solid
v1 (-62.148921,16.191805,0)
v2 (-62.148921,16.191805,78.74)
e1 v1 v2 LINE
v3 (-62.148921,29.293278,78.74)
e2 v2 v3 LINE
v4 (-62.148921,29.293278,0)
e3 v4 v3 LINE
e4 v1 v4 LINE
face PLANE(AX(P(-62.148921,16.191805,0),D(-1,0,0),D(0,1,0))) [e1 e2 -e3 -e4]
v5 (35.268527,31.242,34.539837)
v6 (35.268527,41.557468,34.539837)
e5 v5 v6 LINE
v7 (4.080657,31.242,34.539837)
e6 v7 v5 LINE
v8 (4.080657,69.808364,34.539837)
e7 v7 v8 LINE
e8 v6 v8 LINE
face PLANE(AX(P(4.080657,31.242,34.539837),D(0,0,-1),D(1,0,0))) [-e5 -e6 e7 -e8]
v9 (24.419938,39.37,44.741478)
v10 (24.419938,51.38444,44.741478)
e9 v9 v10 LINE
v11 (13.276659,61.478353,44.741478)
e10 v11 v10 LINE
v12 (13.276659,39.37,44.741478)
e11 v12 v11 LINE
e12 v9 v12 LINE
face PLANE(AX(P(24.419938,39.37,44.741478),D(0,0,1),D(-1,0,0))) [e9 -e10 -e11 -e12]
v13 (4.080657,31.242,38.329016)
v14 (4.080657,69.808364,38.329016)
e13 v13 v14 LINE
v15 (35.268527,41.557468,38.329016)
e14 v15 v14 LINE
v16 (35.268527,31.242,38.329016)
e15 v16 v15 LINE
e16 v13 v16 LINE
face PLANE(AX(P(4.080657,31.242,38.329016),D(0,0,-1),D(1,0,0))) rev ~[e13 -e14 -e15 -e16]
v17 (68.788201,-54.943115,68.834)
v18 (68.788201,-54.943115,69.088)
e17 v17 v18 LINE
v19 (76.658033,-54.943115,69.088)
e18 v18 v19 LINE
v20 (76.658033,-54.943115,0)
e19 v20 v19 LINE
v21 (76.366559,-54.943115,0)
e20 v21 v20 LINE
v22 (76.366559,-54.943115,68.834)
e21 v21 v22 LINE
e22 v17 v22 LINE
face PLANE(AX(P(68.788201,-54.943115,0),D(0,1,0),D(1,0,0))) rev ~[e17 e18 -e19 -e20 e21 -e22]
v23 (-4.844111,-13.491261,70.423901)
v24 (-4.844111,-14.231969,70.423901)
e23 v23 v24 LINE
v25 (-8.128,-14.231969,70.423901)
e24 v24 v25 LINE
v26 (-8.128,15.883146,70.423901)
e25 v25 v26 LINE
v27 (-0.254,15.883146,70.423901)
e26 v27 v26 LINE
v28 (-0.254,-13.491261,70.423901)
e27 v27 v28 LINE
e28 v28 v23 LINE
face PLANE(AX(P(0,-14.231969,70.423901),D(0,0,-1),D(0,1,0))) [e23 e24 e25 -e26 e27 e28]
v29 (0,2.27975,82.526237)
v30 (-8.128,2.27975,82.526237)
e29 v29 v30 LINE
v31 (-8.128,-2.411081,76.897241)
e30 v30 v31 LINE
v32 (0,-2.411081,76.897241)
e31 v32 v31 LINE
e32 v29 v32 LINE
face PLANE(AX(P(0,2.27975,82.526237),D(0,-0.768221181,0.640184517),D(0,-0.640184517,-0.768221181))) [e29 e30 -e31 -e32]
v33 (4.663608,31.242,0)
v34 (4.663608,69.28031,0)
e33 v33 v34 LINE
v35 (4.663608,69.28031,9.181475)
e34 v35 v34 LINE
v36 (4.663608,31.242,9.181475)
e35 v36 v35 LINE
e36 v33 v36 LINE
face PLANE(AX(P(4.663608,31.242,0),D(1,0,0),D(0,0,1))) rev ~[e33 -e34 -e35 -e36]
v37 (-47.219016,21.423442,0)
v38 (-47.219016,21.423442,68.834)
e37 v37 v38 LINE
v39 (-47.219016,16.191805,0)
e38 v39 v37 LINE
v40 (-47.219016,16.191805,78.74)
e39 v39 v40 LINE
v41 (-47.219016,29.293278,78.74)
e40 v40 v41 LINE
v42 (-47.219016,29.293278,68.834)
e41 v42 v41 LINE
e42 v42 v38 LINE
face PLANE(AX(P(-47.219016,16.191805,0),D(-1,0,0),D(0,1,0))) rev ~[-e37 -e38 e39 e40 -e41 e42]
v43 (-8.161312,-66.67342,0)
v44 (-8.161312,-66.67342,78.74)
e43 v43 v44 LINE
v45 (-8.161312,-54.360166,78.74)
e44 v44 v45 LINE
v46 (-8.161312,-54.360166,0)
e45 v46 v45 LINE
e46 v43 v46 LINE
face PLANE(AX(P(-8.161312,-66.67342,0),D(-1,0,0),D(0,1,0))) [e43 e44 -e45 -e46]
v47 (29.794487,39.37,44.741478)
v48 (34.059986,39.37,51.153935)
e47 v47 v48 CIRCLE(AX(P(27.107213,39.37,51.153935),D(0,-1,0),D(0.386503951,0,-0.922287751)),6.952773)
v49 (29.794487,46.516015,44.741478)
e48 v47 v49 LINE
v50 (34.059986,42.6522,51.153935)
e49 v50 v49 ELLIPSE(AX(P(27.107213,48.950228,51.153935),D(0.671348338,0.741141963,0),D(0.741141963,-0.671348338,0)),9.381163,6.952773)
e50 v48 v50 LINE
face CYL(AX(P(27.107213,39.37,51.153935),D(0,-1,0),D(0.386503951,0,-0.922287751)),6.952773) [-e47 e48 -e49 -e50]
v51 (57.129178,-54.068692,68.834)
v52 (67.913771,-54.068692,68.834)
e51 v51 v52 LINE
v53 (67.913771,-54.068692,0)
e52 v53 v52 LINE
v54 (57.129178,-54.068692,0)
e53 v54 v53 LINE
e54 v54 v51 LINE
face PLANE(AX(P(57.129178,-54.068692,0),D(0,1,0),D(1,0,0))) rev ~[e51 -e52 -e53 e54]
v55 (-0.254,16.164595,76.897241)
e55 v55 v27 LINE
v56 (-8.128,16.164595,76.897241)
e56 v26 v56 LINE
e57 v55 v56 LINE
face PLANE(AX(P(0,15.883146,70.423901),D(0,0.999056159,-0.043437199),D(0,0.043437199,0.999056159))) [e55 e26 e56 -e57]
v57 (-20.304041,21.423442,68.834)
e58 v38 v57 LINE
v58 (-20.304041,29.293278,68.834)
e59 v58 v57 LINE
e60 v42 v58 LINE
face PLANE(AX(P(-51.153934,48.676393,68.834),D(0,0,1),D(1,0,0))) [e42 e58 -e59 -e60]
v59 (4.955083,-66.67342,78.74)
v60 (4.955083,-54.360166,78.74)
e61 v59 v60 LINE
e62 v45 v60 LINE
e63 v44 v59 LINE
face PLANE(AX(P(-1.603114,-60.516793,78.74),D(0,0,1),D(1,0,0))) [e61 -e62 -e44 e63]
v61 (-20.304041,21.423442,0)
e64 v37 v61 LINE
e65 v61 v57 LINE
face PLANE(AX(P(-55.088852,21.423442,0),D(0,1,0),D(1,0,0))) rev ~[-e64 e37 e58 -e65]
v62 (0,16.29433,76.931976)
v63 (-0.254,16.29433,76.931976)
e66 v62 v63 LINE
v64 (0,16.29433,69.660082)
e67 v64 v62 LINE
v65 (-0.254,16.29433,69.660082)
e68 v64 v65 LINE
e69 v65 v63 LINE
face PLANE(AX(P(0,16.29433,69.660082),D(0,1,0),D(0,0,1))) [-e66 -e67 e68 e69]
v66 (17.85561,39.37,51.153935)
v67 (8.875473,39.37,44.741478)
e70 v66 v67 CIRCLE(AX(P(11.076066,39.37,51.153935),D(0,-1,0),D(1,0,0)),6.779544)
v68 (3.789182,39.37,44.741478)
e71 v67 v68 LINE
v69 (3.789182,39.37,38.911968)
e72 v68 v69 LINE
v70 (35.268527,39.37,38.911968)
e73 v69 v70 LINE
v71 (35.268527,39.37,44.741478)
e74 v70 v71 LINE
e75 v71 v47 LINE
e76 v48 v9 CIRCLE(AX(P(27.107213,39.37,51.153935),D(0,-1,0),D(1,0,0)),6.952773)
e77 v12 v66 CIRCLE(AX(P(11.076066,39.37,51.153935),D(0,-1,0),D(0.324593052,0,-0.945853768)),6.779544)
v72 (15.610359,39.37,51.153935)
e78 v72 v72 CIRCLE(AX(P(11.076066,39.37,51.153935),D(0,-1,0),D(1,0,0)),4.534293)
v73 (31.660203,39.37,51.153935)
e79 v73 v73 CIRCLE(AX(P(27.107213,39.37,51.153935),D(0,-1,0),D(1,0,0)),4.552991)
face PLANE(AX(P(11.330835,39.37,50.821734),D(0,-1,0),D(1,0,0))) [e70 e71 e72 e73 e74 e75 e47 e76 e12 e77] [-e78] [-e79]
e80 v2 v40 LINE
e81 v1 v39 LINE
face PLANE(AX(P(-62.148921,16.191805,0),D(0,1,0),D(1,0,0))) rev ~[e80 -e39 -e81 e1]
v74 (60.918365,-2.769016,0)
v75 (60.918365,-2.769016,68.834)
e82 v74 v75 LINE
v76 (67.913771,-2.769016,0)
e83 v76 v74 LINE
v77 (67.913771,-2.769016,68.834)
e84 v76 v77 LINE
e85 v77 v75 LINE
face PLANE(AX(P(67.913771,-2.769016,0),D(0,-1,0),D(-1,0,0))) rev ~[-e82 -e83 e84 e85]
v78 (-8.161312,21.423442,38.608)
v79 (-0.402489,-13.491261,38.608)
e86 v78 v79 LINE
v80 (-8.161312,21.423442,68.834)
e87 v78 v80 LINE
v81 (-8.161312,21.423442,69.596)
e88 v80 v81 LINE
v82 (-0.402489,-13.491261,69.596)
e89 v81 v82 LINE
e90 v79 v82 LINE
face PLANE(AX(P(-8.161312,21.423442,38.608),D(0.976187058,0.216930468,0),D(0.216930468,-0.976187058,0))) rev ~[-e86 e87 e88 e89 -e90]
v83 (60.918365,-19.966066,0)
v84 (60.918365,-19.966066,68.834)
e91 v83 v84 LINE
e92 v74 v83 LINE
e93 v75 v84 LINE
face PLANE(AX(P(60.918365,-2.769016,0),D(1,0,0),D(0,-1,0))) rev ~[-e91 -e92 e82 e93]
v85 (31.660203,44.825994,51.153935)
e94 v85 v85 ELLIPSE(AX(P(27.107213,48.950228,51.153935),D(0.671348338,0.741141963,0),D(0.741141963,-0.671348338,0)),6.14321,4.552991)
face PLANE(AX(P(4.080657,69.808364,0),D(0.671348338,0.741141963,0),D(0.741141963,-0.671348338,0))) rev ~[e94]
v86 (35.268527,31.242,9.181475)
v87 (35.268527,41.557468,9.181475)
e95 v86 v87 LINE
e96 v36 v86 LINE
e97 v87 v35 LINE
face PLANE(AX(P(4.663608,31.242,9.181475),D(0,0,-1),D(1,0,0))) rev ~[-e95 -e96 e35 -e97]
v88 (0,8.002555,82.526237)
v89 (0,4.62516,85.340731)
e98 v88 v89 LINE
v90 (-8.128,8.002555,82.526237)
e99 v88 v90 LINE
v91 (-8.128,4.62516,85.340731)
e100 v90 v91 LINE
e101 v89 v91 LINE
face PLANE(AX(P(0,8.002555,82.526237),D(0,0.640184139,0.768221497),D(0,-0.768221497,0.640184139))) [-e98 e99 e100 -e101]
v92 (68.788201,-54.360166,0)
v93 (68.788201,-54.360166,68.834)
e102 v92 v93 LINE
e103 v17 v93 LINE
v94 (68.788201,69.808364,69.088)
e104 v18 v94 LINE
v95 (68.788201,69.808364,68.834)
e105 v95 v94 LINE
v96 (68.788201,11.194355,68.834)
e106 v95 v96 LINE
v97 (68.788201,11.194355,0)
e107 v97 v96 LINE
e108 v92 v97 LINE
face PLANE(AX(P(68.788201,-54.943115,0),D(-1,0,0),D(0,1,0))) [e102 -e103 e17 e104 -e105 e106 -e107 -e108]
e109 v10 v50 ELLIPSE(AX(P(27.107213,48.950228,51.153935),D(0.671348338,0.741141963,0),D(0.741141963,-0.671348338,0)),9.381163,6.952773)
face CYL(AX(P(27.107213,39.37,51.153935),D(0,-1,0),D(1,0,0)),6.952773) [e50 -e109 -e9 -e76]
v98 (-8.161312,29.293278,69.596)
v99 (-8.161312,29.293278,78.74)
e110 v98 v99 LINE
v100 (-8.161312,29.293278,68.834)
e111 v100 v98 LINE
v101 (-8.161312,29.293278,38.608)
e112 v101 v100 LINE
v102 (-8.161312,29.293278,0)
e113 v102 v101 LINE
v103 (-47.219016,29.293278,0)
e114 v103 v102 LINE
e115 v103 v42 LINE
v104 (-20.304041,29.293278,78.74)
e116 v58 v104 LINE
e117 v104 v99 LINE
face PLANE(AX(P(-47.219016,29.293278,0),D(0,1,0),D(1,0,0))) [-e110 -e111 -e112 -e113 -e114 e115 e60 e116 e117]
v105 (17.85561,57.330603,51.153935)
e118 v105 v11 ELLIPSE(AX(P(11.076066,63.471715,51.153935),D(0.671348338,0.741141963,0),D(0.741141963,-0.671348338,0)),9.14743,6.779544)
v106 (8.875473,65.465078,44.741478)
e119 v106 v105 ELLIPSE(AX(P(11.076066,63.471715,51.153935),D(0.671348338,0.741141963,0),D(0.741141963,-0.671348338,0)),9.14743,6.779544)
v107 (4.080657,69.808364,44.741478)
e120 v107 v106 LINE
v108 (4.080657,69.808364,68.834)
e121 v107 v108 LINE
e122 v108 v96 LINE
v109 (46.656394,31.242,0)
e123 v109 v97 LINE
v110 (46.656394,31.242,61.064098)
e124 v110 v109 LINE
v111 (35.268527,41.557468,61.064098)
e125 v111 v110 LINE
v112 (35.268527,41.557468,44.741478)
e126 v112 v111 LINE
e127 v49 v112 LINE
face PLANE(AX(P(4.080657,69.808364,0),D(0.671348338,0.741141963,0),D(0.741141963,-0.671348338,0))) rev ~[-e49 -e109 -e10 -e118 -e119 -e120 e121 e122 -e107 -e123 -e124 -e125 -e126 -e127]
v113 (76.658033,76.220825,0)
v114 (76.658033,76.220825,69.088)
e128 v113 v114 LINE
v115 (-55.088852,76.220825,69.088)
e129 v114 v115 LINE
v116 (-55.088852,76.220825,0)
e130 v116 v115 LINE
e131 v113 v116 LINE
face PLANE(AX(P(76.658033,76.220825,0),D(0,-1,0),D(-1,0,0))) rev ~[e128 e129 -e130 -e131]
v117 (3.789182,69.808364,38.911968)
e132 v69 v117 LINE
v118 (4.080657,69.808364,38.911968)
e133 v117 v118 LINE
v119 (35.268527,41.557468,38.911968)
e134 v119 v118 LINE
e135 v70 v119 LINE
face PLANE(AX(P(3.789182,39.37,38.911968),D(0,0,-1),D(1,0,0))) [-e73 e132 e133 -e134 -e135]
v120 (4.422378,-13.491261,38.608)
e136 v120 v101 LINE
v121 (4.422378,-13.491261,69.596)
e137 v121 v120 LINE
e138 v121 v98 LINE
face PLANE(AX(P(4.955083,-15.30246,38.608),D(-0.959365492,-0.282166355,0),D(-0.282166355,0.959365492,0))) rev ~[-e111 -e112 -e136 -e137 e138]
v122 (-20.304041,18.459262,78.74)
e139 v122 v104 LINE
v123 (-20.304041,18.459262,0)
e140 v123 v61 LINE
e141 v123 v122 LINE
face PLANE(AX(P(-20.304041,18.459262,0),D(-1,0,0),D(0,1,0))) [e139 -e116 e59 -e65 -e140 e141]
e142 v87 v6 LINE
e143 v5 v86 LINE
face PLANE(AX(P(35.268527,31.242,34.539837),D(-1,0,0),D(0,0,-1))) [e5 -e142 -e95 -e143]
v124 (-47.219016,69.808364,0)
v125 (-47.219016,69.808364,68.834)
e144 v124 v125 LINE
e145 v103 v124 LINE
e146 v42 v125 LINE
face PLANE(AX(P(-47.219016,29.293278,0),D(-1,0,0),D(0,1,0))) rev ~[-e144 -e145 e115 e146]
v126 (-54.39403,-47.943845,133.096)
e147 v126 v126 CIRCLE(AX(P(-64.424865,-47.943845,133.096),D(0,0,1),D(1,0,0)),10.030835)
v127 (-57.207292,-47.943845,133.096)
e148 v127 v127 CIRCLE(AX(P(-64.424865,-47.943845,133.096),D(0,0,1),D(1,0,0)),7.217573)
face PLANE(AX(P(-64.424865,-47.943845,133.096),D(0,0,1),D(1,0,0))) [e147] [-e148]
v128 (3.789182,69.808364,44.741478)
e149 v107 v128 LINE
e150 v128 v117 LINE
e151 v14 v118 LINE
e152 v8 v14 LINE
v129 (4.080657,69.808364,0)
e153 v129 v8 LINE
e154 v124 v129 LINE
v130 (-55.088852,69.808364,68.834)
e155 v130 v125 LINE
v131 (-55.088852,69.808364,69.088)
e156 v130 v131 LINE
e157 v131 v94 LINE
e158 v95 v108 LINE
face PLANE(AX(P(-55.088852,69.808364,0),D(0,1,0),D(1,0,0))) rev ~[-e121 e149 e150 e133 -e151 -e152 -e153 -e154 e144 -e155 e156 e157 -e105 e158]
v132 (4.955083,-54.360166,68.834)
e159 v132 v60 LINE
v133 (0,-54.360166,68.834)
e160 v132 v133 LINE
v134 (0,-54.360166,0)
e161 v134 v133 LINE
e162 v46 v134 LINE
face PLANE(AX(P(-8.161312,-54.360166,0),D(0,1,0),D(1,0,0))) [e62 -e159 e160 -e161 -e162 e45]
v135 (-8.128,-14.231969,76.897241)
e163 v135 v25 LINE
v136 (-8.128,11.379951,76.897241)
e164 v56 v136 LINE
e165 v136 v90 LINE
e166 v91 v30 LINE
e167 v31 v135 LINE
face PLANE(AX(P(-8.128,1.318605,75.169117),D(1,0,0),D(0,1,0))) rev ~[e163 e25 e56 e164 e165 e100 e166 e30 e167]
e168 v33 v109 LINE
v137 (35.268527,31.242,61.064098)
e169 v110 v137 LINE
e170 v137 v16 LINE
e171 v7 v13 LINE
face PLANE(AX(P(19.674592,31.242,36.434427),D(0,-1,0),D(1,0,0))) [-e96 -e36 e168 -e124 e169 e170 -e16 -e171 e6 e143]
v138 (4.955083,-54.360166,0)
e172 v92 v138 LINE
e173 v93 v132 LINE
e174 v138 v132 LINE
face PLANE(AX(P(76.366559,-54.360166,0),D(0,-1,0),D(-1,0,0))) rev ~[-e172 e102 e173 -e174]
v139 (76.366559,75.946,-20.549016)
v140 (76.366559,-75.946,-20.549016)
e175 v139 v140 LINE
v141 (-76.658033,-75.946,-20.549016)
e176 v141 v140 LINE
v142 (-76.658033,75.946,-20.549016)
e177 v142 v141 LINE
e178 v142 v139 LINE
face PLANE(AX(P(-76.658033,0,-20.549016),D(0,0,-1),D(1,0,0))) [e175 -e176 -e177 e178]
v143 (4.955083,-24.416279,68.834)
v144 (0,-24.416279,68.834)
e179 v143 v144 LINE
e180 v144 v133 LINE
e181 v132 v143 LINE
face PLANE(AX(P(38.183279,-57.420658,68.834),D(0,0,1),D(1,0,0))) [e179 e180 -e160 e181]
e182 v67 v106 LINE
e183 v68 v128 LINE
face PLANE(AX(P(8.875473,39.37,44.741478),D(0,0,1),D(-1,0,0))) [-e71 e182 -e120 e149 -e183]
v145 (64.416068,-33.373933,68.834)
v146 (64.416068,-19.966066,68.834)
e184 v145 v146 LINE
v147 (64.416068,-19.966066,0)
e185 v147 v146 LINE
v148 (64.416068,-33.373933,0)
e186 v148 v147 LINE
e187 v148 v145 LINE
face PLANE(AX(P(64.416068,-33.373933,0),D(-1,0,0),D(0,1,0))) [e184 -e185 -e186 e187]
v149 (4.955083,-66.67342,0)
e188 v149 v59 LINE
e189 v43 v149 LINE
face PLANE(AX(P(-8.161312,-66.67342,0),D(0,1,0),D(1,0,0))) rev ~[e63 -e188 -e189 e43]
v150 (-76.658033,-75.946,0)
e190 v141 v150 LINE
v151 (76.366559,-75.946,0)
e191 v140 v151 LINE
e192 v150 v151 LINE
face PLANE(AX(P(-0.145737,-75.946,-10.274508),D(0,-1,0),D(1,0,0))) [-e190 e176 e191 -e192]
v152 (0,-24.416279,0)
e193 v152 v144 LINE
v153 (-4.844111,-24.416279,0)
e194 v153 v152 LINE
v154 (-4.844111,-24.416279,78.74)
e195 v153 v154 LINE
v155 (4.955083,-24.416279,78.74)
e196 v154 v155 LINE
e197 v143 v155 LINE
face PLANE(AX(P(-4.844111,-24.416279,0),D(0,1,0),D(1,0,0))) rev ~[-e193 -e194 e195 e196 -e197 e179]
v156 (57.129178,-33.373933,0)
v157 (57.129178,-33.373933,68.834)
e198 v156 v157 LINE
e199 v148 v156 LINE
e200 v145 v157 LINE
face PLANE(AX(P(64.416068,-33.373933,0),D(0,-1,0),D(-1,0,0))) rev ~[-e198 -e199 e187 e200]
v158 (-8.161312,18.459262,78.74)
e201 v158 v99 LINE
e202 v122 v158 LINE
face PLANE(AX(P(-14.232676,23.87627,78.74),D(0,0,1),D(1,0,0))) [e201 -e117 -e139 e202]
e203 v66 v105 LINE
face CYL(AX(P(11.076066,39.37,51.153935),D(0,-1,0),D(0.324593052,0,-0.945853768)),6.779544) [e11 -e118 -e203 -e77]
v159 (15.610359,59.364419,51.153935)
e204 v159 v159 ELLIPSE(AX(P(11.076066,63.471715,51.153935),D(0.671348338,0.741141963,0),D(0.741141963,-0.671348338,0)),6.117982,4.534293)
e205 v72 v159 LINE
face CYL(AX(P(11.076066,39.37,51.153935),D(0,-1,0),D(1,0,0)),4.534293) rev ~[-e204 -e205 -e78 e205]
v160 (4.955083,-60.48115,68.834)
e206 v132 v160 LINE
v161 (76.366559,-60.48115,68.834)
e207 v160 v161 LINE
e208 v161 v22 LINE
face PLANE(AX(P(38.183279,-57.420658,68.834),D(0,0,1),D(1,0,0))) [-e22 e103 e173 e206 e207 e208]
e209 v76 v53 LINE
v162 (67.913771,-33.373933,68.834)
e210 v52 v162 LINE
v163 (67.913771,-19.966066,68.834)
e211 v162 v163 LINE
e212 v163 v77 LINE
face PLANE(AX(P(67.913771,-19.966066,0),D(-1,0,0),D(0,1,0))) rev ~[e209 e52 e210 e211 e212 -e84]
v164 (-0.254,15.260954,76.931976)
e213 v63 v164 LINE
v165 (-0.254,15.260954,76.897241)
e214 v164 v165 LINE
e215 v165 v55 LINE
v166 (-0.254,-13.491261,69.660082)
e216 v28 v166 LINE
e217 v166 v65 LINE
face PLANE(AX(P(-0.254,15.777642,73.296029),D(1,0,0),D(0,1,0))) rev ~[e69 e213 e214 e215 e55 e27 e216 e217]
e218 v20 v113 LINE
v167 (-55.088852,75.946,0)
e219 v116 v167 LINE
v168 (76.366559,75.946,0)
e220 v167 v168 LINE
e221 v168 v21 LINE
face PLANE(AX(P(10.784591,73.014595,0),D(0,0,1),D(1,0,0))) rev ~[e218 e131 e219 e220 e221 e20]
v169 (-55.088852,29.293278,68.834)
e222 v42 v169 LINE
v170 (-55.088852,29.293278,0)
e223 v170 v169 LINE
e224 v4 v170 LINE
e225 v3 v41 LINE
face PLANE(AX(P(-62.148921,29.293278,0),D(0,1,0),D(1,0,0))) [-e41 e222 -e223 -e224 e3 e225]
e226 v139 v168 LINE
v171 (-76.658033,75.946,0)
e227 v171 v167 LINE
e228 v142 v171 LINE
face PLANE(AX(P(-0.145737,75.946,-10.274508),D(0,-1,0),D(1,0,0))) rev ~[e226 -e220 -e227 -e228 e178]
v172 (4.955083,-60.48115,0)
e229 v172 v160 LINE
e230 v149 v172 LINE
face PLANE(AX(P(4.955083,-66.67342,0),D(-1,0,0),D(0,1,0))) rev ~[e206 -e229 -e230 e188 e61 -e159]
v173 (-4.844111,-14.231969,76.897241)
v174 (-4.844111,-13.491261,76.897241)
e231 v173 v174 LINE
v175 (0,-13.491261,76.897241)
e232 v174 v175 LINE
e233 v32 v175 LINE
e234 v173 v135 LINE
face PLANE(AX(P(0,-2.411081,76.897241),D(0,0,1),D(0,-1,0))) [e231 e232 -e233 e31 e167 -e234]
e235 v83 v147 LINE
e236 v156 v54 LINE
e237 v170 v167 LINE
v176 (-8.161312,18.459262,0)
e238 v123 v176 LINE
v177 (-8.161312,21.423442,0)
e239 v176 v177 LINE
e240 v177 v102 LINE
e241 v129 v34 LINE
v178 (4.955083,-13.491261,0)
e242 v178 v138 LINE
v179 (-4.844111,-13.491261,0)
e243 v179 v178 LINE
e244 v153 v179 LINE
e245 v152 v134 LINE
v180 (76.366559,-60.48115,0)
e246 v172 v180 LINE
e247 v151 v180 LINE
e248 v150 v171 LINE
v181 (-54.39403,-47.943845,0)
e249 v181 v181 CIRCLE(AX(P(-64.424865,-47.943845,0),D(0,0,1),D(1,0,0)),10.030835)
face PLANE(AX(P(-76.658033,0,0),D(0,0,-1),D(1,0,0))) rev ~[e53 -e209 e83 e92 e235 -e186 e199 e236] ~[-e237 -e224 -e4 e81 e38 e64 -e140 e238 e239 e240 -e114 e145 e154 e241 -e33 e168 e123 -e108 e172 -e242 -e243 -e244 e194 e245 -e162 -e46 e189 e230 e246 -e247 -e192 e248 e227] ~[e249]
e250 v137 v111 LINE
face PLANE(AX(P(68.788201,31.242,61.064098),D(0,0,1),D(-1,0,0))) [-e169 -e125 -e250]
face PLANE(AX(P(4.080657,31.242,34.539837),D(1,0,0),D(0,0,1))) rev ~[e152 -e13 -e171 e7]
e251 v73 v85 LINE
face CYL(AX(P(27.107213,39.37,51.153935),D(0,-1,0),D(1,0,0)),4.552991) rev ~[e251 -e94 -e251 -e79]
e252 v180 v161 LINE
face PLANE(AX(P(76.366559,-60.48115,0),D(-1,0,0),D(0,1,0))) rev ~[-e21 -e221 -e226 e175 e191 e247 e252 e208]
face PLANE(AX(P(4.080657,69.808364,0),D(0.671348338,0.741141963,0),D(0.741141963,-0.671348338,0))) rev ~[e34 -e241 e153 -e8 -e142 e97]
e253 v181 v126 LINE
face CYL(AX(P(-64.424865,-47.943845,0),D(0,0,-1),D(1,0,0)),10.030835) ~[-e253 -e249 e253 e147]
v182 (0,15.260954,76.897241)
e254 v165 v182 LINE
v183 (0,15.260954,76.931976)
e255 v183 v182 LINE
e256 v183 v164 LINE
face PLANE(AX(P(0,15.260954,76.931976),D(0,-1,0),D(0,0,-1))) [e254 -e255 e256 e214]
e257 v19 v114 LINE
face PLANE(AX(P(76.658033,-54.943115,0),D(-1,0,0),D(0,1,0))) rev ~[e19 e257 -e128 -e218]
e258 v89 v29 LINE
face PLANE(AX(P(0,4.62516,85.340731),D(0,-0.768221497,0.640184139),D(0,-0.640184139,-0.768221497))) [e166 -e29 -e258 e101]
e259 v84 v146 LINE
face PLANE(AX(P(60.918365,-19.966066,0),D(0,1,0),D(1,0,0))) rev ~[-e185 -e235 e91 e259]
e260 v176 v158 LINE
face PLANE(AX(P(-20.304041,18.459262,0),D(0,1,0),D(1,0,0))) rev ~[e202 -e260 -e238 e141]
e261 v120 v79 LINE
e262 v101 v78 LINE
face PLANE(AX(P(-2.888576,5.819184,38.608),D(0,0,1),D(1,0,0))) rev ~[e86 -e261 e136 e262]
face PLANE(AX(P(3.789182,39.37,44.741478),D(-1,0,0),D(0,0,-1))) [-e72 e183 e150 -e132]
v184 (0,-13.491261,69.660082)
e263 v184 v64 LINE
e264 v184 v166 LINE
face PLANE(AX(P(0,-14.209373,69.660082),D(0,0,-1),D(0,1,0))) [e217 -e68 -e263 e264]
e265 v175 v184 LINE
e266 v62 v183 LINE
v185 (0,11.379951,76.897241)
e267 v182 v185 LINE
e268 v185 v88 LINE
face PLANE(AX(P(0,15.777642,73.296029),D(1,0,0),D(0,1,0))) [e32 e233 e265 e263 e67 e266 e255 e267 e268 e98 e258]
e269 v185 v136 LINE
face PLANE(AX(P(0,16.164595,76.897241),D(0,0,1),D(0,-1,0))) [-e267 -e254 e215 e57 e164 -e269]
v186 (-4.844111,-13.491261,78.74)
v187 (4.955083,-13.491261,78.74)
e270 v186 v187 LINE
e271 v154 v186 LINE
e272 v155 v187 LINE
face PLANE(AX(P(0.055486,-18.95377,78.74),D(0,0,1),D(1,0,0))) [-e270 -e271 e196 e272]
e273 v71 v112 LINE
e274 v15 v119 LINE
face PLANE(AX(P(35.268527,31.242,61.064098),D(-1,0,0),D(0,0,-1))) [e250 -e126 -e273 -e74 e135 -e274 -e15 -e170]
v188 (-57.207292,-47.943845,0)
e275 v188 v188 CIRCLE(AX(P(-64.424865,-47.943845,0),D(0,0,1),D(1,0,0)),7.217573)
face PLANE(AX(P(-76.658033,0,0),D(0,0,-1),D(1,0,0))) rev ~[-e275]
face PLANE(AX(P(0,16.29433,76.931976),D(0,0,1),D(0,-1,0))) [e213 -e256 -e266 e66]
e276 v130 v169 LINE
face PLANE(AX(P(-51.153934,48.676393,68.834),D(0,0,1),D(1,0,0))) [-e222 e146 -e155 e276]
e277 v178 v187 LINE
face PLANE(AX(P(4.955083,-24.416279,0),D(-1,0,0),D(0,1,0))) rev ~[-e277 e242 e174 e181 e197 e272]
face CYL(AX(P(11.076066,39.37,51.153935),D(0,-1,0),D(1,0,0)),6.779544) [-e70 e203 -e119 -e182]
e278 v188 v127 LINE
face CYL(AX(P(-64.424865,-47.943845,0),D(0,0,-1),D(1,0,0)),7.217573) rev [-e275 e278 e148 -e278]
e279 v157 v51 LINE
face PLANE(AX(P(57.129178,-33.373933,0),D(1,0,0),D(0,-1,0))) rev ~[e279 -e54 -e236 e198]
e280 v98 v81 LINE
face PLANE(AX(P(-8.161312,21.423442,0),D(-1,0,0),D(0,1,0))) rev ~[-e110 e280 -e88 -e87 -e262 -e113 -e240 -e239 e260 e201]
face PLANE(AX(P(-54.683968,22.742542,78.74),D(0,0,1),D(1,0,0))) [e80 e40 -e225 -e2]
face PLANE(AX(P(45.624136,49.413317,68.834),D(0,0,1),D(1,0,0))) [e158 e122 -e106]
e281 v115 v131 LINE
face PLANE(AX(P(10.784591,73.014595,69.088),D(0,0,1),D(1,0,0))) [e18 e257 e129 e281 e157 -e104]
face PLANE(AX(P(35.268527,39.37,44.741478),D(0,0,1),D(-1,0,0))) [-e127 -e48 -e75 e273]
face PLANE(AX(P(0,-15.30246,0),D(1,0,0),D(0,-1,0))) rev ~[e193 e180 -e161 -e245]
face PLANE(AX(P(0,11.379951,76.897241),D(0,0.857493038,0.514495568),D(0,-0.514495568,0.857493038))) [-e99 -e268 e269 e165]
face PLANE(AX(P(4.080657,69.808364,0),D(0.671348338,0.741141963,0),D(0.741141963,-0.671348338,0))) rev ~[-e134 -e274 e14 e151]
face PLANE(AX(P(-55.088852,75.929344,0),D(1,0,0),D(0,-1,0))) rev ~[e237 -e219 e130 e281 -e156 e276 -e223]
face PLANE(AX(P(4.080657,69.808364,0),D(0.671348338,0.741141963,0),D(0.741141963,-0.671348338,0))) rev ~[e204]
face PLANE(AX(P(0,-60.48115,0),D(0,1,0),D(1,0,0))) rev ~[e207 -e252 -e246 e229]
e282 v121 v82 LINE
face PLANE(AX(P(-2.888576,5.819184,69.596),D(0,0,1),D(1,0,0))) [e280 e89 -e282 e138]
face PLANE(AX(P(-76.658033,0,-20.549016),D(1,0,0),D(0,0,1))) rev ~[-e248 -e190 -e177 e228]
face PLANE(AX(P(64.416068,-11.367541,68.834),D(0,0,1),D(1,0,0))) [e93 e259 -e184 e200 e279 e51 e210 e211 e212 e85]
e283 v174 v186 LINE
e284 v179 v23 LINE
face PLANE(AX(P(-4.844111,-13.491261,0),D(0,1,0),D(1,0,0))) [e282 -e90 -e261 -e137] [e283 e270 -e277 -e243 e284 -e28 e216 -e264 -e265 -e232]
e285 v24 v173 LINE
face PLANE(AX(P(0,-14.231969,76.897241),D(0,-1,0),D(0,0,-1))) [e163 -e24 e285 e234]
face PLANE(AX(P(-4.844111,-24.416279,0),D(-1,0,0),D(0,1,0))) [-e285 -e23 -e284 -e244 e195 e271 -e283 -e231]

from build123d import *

# Parameters (mm, degrees)
F0_W          = 153.0245915055
F0_H          = 20.5490160733
F1_DEPTH      = 75.946
F1_DEPTH_BACK = 75.946
F3_DEPTH      = 68.834
F5_START      = -31.242
F4_W          = 31.1878696084
F4_H          = 3.7891790271
F4_W_2        = 30.604918953
F4_H_2        = 9.1814752668
F5_DEPTH      = 38.862
F7_START      = -39.37
F6_R          = 4.5342929644
F6_R_2        = 4.5529905845
F7_DEPTH      = 30.734
F8_W          = 7.8698322177
F8_H          = 124.7514784336
F9_DEPTH      = 69.088
F10_W         = 3.4977030009
F10_H         = 13.4078674018
F11_DEPTH     = 68.834
F12_W         = 4.9550831318
F12_H         = 39.0577064827
F12_W_2       = 39.0577036887
F12_H_2       = 7.869835943
F13_DEPTH     = 68.834
F15_START     = 38.608
F15_DEPTH     = 30.988
F16_W         = 9.7991945222
F16_H         = 10.9250182286
F16_W_2       = 12.1427290142
F16_H_2       = 10.8340159059
F16_W_3       = 14.9299055338
F16_H_3       = 13.1014734507
F16_W_4       = 13.116395101
F16_H_4       = 12.3132541776
F17_DEPTH     = 78.74
F19_DEPTH     = 8.128
F20_R         = 10.030835309
F20_R_2       = 7.2175731122
F21_DEPTH     = 133.096
F22_W         = 29.4703273103
F22_H         = 0.956825912
F23_DEPTH     = 0.254


with BuildPart() as f1:
    # F0 (on Front) → F1 (new body, two sides)
    with BuildSketch(Plane.XZ) as f1_sk:
        with Locations((-0.1457370818, -10.2745080367)):
            Rectangle(F0_W, F0_H)
    extrude(amount=F1_DEPTH)
    extrude(f1_sk.sketch, amount=-F1_DEPTH_BACK)

    # F2 (on face) → F3 (join)
    with BuildSketch(Plane.XY):
        Polygon((69.0796747804, 69.8083639145), (4.0806569159, 69.8083639145), (69.0796747804, 10.9303286299), align=None)
    extrude(amount=F3_DEPTH)

    # F4 (on Front) → F5 (join)
    with BuildSketch(Plane.XZ.offset(F5_START)):
        with Locations((19.6745917201, 36.4344269037)):
            Rectangle(F4_W, F4_H)
        Polygon((35.2685265243, 61.0640980303), (35.2685265243, 38.3290164173), (35.2685265243, 34.5398373902), (35.2685265243, 9.1814752668), (35.2685265243, 0), (68.7882006168, 0), (68.7882006168, 61.0640980303), align=None)
        with Locations((19.9660670478, 4.5907376334)):
            Rectangle(F4_W_2, F4_H_2)
    extrude(amount=-F5_DEPTH)

    # F6 (on Front) → F7 (join)
    with BuildSketch(Plane.XZ.offset(F7_START)):
        with BuildLine():
            ThreePointArc((13.2766587373, 44.7414778173), (16.5933676498, 47.2141890003), (17.8556101724, 51.153935492))
            ThreePointArc((17.8556101724, 51.153935492), (7.13631922, 56.6712374301), (8.875472686, 44.7414778173))
            Line((8.875472686, 44.7414778173), (13.2766587373, 44.7414778173))
        make_face()
        with Locations((11.0760657117, 51.153935492)):
            Circle(F6_R, mode=Mode.SUBTRACT)
        with BuildLine():
            Line((13.2766587373, 44.7414778173), (8.875472686, 44.7414778173))
            ThreePointArc((8.875472686, 44.7414778173), (11.0760657117, 44.3743910313), (13.2766587373, 44.7414778173))
        make_face()
        with BuildLine():
            ThreePointArc((13.2766587373, 44.7414778173), (11.0760657117, 44.3743910313), (8.875472686, 44.7414778173))
            Line((8.875472686, 44.7414778173), (3.7891815882, 44.7414778173))
            Line((3.7891815882, 44.7414778173), (3.7891815882, 38.9119684696))
            Line((3.7891815882, 38.9119684696), (17.7800003439, 38.9119684696))
            Line((17.7800003439, 38.9119684696), (17.7800003439, 44.7414778173))
            Line((17.7800003439, 44.7414778173), (13.2766587373, 44.7414778173))
        make_face()
        with BuildLine():
            Line((24.4199383292, 44.7414778173), (17.7800003439, 44.7414778173))
            Line((17.7800003439, 44.7414778173), (17.7800003439, 38.9119684696))
            Line((17.7800003439, 38.9119684696), (35.2685265243, 38.9119684696))
            Line((35.2685265243, 38.9119684696), (35.2685265243, 44.7414778173))
            Line((35.2685265243, 44.7414778173), (29.7944870558, 44.7414778173))
            ThreePointArc((29.7944870558, 44.7414778173), (27.1072126925, 44.2011621652), (24.4199383292, 44.7414778173))
        make_face()
        with BuildLine():
            Line((29.7944870558, 44.7414778173), (24.4199383292, 44.7414778173))
            ThreePointArc((24.4199383292, 44.7414778173), (27.1072126925, 44.2011621652), (29.7944870558, 44.7414778173))
        make_face()
        with BuildLine():
            ThreePointArc((34.0599860193, 51.153935492), (23.256430472, 56.9429365479), (24.4199383292, 44.7414778173))
            Line((24.4199383292, 44.7414778173), (29.7944870558, 44.7414778173))
            ThreePointArc((29.7944870558, 44.7414778173), (32.8962137483, 47.3031532716), (34.0599860193, 51.153935492))
        make_face()
        with Locations((27.1072126925, 51.153935492)):
            Circle(F6_R_2, mode=Mode.SUBTRACT)
    extrude(amount=-F7_DEPTH)

    # F8 (on Top) → F9 (join)
    with BuildSketch(Plane.XY):
        Polygon((-55.0888516009, 69.8083639145), (68.7882006168, 69.8083639145), (76.6580328345, 69.8083639145), (76.6580328345, 76.2208253145), (-55.0888516009, 76.2208253145), align=None)
        with Locations((72.7231167257, 7.4326246977)):
            Rectangle(F8_W, F8_H)
    extrude(amount=F9_DEPTH)

    # F10 (on Top) → F11 (join)
    with BuildSketch(Plane.XY):
        Polygon((67.9137706757, -19.9660658836), (67.9137706757, -2.7690164279), (60.9183646739, -2.7690164279), (60.9183646739, -19.9660658836), (64.4160676748, -19.9660658836), align=None)
        with Locations((66.1649191752, -26.6699995846)):
            Rectangle(F10_W, F10_H)
        Polygon((67.9137706757, -54.0686920285), (67.9137706757, -33.3739332855), (64.4160676748, -33.3739332855), (57.1291781962, -33.3739332855), (57.1291781962, -54.0686920285), align=None)
    extrude(amount=F11_DEPTH)

    # F12 (on Top) → F13 (join)
    with BuildSketch(Plane.XY):
        Polygon((76.366558671, -60.4811497033), (76.366558671, -54.3601661921), (4.9550831318, -54.3601661921), (0, -54.3601661921), (0, -60.4811497033), align=None)
        with Locations((2.4775415659, -34.8313129507)):
            Rectangle(F12_W, F12_H)
        Polygon((-47.2190156579, 75.9293437004), (-55.0888516009, 75.9293437004), (-55.0888516009, 21.4234422892), (-47.2190156579, 21.4234422892), (-47.2190156579, 29.2932782322), align=None)
        with Locations((-27.6901638135, 25.3583602607)):
            Rectangle(F12_W_2, F12_H_2)
    extrude(amount=F13_DEPTH)

    # F14 (on face) → F15 (join)
    with BuildSketch(Plane.XY.offset(F15_START)):
        Polygon((4.9550831318, -15.3024597093), (-8.1613119692, 29.2932782322), (-8.1613119692, 21.4234422892), (0, -15.3024597093), align=None)
    extrude(amount=F15_DEPTH)

    # F16 (on face) → F17 (join)
    with BuildSketch(Plane.XY):
        with Locations((0.0554858707, -18.9537699334)):
            Rectangle(F16_W, F16_H)
        with Locations((-14.2326764762, 23.8762702793)):
            Rectangle(F16_W_2, F16_H_2)
        with Locations((-54.6839684248, 22.7425415069)):
            Rectangle(F16_W_3, F16_H_3)
        with Locations((-1.6031144187, -60.5167932808)):
            Rectangle(F16_W_4, F16_H_4)
    extrude(amount=F17_DEPTH)

    # F18 (on Right) → F19 (join)
    with BuildSketch(Plane.YZ):
        Polygon((15.8831458539, 70.4239010811), (16.1645952612, 76.8972411752), (11.3799506798, 76.8972411752), (8.0025549978, 82.5262367725), (4.6251597814, 85.3407308459), (2.2797496705, 82.5262367725), (-2.4110814556, 76.8972411752), (-14.2319686711, 76.8972411752), (-14.2319686711, 70.4239010811), align=None)
    extrude(amount=-F19_DEPTH)

    # F20 (on Top) → F21 (join)
    with BuildSketch(Plane.XY):
        with Locations((-64.4248649478, -47.9438453913)):
            Circle(F20_R)
        with Locations((-64.4248649478, -47.9438453913)):
            Circle(F20_R_2, mode=Mode.SUBTRACT)
    extrude(amount=F21_DEPTH)

    # F22 (on Right) → F23 (join)
    with BuildSketch(Plane.YZ):
        Polygon((16.2943303585, 69.6600824594), (16.2943303585, 76.9319757819), (15.2609543875, 76.9319757819), (15.2609543875, 70.6169083714), (15.2609543875, 69.6600824594), align=None)
        with Locations((0.5257907324, 70.1384954154)):
            Rectangle(F22_W, F22_H)
    extrude(amount=-F23_DEPTH)


solid = f1.part
